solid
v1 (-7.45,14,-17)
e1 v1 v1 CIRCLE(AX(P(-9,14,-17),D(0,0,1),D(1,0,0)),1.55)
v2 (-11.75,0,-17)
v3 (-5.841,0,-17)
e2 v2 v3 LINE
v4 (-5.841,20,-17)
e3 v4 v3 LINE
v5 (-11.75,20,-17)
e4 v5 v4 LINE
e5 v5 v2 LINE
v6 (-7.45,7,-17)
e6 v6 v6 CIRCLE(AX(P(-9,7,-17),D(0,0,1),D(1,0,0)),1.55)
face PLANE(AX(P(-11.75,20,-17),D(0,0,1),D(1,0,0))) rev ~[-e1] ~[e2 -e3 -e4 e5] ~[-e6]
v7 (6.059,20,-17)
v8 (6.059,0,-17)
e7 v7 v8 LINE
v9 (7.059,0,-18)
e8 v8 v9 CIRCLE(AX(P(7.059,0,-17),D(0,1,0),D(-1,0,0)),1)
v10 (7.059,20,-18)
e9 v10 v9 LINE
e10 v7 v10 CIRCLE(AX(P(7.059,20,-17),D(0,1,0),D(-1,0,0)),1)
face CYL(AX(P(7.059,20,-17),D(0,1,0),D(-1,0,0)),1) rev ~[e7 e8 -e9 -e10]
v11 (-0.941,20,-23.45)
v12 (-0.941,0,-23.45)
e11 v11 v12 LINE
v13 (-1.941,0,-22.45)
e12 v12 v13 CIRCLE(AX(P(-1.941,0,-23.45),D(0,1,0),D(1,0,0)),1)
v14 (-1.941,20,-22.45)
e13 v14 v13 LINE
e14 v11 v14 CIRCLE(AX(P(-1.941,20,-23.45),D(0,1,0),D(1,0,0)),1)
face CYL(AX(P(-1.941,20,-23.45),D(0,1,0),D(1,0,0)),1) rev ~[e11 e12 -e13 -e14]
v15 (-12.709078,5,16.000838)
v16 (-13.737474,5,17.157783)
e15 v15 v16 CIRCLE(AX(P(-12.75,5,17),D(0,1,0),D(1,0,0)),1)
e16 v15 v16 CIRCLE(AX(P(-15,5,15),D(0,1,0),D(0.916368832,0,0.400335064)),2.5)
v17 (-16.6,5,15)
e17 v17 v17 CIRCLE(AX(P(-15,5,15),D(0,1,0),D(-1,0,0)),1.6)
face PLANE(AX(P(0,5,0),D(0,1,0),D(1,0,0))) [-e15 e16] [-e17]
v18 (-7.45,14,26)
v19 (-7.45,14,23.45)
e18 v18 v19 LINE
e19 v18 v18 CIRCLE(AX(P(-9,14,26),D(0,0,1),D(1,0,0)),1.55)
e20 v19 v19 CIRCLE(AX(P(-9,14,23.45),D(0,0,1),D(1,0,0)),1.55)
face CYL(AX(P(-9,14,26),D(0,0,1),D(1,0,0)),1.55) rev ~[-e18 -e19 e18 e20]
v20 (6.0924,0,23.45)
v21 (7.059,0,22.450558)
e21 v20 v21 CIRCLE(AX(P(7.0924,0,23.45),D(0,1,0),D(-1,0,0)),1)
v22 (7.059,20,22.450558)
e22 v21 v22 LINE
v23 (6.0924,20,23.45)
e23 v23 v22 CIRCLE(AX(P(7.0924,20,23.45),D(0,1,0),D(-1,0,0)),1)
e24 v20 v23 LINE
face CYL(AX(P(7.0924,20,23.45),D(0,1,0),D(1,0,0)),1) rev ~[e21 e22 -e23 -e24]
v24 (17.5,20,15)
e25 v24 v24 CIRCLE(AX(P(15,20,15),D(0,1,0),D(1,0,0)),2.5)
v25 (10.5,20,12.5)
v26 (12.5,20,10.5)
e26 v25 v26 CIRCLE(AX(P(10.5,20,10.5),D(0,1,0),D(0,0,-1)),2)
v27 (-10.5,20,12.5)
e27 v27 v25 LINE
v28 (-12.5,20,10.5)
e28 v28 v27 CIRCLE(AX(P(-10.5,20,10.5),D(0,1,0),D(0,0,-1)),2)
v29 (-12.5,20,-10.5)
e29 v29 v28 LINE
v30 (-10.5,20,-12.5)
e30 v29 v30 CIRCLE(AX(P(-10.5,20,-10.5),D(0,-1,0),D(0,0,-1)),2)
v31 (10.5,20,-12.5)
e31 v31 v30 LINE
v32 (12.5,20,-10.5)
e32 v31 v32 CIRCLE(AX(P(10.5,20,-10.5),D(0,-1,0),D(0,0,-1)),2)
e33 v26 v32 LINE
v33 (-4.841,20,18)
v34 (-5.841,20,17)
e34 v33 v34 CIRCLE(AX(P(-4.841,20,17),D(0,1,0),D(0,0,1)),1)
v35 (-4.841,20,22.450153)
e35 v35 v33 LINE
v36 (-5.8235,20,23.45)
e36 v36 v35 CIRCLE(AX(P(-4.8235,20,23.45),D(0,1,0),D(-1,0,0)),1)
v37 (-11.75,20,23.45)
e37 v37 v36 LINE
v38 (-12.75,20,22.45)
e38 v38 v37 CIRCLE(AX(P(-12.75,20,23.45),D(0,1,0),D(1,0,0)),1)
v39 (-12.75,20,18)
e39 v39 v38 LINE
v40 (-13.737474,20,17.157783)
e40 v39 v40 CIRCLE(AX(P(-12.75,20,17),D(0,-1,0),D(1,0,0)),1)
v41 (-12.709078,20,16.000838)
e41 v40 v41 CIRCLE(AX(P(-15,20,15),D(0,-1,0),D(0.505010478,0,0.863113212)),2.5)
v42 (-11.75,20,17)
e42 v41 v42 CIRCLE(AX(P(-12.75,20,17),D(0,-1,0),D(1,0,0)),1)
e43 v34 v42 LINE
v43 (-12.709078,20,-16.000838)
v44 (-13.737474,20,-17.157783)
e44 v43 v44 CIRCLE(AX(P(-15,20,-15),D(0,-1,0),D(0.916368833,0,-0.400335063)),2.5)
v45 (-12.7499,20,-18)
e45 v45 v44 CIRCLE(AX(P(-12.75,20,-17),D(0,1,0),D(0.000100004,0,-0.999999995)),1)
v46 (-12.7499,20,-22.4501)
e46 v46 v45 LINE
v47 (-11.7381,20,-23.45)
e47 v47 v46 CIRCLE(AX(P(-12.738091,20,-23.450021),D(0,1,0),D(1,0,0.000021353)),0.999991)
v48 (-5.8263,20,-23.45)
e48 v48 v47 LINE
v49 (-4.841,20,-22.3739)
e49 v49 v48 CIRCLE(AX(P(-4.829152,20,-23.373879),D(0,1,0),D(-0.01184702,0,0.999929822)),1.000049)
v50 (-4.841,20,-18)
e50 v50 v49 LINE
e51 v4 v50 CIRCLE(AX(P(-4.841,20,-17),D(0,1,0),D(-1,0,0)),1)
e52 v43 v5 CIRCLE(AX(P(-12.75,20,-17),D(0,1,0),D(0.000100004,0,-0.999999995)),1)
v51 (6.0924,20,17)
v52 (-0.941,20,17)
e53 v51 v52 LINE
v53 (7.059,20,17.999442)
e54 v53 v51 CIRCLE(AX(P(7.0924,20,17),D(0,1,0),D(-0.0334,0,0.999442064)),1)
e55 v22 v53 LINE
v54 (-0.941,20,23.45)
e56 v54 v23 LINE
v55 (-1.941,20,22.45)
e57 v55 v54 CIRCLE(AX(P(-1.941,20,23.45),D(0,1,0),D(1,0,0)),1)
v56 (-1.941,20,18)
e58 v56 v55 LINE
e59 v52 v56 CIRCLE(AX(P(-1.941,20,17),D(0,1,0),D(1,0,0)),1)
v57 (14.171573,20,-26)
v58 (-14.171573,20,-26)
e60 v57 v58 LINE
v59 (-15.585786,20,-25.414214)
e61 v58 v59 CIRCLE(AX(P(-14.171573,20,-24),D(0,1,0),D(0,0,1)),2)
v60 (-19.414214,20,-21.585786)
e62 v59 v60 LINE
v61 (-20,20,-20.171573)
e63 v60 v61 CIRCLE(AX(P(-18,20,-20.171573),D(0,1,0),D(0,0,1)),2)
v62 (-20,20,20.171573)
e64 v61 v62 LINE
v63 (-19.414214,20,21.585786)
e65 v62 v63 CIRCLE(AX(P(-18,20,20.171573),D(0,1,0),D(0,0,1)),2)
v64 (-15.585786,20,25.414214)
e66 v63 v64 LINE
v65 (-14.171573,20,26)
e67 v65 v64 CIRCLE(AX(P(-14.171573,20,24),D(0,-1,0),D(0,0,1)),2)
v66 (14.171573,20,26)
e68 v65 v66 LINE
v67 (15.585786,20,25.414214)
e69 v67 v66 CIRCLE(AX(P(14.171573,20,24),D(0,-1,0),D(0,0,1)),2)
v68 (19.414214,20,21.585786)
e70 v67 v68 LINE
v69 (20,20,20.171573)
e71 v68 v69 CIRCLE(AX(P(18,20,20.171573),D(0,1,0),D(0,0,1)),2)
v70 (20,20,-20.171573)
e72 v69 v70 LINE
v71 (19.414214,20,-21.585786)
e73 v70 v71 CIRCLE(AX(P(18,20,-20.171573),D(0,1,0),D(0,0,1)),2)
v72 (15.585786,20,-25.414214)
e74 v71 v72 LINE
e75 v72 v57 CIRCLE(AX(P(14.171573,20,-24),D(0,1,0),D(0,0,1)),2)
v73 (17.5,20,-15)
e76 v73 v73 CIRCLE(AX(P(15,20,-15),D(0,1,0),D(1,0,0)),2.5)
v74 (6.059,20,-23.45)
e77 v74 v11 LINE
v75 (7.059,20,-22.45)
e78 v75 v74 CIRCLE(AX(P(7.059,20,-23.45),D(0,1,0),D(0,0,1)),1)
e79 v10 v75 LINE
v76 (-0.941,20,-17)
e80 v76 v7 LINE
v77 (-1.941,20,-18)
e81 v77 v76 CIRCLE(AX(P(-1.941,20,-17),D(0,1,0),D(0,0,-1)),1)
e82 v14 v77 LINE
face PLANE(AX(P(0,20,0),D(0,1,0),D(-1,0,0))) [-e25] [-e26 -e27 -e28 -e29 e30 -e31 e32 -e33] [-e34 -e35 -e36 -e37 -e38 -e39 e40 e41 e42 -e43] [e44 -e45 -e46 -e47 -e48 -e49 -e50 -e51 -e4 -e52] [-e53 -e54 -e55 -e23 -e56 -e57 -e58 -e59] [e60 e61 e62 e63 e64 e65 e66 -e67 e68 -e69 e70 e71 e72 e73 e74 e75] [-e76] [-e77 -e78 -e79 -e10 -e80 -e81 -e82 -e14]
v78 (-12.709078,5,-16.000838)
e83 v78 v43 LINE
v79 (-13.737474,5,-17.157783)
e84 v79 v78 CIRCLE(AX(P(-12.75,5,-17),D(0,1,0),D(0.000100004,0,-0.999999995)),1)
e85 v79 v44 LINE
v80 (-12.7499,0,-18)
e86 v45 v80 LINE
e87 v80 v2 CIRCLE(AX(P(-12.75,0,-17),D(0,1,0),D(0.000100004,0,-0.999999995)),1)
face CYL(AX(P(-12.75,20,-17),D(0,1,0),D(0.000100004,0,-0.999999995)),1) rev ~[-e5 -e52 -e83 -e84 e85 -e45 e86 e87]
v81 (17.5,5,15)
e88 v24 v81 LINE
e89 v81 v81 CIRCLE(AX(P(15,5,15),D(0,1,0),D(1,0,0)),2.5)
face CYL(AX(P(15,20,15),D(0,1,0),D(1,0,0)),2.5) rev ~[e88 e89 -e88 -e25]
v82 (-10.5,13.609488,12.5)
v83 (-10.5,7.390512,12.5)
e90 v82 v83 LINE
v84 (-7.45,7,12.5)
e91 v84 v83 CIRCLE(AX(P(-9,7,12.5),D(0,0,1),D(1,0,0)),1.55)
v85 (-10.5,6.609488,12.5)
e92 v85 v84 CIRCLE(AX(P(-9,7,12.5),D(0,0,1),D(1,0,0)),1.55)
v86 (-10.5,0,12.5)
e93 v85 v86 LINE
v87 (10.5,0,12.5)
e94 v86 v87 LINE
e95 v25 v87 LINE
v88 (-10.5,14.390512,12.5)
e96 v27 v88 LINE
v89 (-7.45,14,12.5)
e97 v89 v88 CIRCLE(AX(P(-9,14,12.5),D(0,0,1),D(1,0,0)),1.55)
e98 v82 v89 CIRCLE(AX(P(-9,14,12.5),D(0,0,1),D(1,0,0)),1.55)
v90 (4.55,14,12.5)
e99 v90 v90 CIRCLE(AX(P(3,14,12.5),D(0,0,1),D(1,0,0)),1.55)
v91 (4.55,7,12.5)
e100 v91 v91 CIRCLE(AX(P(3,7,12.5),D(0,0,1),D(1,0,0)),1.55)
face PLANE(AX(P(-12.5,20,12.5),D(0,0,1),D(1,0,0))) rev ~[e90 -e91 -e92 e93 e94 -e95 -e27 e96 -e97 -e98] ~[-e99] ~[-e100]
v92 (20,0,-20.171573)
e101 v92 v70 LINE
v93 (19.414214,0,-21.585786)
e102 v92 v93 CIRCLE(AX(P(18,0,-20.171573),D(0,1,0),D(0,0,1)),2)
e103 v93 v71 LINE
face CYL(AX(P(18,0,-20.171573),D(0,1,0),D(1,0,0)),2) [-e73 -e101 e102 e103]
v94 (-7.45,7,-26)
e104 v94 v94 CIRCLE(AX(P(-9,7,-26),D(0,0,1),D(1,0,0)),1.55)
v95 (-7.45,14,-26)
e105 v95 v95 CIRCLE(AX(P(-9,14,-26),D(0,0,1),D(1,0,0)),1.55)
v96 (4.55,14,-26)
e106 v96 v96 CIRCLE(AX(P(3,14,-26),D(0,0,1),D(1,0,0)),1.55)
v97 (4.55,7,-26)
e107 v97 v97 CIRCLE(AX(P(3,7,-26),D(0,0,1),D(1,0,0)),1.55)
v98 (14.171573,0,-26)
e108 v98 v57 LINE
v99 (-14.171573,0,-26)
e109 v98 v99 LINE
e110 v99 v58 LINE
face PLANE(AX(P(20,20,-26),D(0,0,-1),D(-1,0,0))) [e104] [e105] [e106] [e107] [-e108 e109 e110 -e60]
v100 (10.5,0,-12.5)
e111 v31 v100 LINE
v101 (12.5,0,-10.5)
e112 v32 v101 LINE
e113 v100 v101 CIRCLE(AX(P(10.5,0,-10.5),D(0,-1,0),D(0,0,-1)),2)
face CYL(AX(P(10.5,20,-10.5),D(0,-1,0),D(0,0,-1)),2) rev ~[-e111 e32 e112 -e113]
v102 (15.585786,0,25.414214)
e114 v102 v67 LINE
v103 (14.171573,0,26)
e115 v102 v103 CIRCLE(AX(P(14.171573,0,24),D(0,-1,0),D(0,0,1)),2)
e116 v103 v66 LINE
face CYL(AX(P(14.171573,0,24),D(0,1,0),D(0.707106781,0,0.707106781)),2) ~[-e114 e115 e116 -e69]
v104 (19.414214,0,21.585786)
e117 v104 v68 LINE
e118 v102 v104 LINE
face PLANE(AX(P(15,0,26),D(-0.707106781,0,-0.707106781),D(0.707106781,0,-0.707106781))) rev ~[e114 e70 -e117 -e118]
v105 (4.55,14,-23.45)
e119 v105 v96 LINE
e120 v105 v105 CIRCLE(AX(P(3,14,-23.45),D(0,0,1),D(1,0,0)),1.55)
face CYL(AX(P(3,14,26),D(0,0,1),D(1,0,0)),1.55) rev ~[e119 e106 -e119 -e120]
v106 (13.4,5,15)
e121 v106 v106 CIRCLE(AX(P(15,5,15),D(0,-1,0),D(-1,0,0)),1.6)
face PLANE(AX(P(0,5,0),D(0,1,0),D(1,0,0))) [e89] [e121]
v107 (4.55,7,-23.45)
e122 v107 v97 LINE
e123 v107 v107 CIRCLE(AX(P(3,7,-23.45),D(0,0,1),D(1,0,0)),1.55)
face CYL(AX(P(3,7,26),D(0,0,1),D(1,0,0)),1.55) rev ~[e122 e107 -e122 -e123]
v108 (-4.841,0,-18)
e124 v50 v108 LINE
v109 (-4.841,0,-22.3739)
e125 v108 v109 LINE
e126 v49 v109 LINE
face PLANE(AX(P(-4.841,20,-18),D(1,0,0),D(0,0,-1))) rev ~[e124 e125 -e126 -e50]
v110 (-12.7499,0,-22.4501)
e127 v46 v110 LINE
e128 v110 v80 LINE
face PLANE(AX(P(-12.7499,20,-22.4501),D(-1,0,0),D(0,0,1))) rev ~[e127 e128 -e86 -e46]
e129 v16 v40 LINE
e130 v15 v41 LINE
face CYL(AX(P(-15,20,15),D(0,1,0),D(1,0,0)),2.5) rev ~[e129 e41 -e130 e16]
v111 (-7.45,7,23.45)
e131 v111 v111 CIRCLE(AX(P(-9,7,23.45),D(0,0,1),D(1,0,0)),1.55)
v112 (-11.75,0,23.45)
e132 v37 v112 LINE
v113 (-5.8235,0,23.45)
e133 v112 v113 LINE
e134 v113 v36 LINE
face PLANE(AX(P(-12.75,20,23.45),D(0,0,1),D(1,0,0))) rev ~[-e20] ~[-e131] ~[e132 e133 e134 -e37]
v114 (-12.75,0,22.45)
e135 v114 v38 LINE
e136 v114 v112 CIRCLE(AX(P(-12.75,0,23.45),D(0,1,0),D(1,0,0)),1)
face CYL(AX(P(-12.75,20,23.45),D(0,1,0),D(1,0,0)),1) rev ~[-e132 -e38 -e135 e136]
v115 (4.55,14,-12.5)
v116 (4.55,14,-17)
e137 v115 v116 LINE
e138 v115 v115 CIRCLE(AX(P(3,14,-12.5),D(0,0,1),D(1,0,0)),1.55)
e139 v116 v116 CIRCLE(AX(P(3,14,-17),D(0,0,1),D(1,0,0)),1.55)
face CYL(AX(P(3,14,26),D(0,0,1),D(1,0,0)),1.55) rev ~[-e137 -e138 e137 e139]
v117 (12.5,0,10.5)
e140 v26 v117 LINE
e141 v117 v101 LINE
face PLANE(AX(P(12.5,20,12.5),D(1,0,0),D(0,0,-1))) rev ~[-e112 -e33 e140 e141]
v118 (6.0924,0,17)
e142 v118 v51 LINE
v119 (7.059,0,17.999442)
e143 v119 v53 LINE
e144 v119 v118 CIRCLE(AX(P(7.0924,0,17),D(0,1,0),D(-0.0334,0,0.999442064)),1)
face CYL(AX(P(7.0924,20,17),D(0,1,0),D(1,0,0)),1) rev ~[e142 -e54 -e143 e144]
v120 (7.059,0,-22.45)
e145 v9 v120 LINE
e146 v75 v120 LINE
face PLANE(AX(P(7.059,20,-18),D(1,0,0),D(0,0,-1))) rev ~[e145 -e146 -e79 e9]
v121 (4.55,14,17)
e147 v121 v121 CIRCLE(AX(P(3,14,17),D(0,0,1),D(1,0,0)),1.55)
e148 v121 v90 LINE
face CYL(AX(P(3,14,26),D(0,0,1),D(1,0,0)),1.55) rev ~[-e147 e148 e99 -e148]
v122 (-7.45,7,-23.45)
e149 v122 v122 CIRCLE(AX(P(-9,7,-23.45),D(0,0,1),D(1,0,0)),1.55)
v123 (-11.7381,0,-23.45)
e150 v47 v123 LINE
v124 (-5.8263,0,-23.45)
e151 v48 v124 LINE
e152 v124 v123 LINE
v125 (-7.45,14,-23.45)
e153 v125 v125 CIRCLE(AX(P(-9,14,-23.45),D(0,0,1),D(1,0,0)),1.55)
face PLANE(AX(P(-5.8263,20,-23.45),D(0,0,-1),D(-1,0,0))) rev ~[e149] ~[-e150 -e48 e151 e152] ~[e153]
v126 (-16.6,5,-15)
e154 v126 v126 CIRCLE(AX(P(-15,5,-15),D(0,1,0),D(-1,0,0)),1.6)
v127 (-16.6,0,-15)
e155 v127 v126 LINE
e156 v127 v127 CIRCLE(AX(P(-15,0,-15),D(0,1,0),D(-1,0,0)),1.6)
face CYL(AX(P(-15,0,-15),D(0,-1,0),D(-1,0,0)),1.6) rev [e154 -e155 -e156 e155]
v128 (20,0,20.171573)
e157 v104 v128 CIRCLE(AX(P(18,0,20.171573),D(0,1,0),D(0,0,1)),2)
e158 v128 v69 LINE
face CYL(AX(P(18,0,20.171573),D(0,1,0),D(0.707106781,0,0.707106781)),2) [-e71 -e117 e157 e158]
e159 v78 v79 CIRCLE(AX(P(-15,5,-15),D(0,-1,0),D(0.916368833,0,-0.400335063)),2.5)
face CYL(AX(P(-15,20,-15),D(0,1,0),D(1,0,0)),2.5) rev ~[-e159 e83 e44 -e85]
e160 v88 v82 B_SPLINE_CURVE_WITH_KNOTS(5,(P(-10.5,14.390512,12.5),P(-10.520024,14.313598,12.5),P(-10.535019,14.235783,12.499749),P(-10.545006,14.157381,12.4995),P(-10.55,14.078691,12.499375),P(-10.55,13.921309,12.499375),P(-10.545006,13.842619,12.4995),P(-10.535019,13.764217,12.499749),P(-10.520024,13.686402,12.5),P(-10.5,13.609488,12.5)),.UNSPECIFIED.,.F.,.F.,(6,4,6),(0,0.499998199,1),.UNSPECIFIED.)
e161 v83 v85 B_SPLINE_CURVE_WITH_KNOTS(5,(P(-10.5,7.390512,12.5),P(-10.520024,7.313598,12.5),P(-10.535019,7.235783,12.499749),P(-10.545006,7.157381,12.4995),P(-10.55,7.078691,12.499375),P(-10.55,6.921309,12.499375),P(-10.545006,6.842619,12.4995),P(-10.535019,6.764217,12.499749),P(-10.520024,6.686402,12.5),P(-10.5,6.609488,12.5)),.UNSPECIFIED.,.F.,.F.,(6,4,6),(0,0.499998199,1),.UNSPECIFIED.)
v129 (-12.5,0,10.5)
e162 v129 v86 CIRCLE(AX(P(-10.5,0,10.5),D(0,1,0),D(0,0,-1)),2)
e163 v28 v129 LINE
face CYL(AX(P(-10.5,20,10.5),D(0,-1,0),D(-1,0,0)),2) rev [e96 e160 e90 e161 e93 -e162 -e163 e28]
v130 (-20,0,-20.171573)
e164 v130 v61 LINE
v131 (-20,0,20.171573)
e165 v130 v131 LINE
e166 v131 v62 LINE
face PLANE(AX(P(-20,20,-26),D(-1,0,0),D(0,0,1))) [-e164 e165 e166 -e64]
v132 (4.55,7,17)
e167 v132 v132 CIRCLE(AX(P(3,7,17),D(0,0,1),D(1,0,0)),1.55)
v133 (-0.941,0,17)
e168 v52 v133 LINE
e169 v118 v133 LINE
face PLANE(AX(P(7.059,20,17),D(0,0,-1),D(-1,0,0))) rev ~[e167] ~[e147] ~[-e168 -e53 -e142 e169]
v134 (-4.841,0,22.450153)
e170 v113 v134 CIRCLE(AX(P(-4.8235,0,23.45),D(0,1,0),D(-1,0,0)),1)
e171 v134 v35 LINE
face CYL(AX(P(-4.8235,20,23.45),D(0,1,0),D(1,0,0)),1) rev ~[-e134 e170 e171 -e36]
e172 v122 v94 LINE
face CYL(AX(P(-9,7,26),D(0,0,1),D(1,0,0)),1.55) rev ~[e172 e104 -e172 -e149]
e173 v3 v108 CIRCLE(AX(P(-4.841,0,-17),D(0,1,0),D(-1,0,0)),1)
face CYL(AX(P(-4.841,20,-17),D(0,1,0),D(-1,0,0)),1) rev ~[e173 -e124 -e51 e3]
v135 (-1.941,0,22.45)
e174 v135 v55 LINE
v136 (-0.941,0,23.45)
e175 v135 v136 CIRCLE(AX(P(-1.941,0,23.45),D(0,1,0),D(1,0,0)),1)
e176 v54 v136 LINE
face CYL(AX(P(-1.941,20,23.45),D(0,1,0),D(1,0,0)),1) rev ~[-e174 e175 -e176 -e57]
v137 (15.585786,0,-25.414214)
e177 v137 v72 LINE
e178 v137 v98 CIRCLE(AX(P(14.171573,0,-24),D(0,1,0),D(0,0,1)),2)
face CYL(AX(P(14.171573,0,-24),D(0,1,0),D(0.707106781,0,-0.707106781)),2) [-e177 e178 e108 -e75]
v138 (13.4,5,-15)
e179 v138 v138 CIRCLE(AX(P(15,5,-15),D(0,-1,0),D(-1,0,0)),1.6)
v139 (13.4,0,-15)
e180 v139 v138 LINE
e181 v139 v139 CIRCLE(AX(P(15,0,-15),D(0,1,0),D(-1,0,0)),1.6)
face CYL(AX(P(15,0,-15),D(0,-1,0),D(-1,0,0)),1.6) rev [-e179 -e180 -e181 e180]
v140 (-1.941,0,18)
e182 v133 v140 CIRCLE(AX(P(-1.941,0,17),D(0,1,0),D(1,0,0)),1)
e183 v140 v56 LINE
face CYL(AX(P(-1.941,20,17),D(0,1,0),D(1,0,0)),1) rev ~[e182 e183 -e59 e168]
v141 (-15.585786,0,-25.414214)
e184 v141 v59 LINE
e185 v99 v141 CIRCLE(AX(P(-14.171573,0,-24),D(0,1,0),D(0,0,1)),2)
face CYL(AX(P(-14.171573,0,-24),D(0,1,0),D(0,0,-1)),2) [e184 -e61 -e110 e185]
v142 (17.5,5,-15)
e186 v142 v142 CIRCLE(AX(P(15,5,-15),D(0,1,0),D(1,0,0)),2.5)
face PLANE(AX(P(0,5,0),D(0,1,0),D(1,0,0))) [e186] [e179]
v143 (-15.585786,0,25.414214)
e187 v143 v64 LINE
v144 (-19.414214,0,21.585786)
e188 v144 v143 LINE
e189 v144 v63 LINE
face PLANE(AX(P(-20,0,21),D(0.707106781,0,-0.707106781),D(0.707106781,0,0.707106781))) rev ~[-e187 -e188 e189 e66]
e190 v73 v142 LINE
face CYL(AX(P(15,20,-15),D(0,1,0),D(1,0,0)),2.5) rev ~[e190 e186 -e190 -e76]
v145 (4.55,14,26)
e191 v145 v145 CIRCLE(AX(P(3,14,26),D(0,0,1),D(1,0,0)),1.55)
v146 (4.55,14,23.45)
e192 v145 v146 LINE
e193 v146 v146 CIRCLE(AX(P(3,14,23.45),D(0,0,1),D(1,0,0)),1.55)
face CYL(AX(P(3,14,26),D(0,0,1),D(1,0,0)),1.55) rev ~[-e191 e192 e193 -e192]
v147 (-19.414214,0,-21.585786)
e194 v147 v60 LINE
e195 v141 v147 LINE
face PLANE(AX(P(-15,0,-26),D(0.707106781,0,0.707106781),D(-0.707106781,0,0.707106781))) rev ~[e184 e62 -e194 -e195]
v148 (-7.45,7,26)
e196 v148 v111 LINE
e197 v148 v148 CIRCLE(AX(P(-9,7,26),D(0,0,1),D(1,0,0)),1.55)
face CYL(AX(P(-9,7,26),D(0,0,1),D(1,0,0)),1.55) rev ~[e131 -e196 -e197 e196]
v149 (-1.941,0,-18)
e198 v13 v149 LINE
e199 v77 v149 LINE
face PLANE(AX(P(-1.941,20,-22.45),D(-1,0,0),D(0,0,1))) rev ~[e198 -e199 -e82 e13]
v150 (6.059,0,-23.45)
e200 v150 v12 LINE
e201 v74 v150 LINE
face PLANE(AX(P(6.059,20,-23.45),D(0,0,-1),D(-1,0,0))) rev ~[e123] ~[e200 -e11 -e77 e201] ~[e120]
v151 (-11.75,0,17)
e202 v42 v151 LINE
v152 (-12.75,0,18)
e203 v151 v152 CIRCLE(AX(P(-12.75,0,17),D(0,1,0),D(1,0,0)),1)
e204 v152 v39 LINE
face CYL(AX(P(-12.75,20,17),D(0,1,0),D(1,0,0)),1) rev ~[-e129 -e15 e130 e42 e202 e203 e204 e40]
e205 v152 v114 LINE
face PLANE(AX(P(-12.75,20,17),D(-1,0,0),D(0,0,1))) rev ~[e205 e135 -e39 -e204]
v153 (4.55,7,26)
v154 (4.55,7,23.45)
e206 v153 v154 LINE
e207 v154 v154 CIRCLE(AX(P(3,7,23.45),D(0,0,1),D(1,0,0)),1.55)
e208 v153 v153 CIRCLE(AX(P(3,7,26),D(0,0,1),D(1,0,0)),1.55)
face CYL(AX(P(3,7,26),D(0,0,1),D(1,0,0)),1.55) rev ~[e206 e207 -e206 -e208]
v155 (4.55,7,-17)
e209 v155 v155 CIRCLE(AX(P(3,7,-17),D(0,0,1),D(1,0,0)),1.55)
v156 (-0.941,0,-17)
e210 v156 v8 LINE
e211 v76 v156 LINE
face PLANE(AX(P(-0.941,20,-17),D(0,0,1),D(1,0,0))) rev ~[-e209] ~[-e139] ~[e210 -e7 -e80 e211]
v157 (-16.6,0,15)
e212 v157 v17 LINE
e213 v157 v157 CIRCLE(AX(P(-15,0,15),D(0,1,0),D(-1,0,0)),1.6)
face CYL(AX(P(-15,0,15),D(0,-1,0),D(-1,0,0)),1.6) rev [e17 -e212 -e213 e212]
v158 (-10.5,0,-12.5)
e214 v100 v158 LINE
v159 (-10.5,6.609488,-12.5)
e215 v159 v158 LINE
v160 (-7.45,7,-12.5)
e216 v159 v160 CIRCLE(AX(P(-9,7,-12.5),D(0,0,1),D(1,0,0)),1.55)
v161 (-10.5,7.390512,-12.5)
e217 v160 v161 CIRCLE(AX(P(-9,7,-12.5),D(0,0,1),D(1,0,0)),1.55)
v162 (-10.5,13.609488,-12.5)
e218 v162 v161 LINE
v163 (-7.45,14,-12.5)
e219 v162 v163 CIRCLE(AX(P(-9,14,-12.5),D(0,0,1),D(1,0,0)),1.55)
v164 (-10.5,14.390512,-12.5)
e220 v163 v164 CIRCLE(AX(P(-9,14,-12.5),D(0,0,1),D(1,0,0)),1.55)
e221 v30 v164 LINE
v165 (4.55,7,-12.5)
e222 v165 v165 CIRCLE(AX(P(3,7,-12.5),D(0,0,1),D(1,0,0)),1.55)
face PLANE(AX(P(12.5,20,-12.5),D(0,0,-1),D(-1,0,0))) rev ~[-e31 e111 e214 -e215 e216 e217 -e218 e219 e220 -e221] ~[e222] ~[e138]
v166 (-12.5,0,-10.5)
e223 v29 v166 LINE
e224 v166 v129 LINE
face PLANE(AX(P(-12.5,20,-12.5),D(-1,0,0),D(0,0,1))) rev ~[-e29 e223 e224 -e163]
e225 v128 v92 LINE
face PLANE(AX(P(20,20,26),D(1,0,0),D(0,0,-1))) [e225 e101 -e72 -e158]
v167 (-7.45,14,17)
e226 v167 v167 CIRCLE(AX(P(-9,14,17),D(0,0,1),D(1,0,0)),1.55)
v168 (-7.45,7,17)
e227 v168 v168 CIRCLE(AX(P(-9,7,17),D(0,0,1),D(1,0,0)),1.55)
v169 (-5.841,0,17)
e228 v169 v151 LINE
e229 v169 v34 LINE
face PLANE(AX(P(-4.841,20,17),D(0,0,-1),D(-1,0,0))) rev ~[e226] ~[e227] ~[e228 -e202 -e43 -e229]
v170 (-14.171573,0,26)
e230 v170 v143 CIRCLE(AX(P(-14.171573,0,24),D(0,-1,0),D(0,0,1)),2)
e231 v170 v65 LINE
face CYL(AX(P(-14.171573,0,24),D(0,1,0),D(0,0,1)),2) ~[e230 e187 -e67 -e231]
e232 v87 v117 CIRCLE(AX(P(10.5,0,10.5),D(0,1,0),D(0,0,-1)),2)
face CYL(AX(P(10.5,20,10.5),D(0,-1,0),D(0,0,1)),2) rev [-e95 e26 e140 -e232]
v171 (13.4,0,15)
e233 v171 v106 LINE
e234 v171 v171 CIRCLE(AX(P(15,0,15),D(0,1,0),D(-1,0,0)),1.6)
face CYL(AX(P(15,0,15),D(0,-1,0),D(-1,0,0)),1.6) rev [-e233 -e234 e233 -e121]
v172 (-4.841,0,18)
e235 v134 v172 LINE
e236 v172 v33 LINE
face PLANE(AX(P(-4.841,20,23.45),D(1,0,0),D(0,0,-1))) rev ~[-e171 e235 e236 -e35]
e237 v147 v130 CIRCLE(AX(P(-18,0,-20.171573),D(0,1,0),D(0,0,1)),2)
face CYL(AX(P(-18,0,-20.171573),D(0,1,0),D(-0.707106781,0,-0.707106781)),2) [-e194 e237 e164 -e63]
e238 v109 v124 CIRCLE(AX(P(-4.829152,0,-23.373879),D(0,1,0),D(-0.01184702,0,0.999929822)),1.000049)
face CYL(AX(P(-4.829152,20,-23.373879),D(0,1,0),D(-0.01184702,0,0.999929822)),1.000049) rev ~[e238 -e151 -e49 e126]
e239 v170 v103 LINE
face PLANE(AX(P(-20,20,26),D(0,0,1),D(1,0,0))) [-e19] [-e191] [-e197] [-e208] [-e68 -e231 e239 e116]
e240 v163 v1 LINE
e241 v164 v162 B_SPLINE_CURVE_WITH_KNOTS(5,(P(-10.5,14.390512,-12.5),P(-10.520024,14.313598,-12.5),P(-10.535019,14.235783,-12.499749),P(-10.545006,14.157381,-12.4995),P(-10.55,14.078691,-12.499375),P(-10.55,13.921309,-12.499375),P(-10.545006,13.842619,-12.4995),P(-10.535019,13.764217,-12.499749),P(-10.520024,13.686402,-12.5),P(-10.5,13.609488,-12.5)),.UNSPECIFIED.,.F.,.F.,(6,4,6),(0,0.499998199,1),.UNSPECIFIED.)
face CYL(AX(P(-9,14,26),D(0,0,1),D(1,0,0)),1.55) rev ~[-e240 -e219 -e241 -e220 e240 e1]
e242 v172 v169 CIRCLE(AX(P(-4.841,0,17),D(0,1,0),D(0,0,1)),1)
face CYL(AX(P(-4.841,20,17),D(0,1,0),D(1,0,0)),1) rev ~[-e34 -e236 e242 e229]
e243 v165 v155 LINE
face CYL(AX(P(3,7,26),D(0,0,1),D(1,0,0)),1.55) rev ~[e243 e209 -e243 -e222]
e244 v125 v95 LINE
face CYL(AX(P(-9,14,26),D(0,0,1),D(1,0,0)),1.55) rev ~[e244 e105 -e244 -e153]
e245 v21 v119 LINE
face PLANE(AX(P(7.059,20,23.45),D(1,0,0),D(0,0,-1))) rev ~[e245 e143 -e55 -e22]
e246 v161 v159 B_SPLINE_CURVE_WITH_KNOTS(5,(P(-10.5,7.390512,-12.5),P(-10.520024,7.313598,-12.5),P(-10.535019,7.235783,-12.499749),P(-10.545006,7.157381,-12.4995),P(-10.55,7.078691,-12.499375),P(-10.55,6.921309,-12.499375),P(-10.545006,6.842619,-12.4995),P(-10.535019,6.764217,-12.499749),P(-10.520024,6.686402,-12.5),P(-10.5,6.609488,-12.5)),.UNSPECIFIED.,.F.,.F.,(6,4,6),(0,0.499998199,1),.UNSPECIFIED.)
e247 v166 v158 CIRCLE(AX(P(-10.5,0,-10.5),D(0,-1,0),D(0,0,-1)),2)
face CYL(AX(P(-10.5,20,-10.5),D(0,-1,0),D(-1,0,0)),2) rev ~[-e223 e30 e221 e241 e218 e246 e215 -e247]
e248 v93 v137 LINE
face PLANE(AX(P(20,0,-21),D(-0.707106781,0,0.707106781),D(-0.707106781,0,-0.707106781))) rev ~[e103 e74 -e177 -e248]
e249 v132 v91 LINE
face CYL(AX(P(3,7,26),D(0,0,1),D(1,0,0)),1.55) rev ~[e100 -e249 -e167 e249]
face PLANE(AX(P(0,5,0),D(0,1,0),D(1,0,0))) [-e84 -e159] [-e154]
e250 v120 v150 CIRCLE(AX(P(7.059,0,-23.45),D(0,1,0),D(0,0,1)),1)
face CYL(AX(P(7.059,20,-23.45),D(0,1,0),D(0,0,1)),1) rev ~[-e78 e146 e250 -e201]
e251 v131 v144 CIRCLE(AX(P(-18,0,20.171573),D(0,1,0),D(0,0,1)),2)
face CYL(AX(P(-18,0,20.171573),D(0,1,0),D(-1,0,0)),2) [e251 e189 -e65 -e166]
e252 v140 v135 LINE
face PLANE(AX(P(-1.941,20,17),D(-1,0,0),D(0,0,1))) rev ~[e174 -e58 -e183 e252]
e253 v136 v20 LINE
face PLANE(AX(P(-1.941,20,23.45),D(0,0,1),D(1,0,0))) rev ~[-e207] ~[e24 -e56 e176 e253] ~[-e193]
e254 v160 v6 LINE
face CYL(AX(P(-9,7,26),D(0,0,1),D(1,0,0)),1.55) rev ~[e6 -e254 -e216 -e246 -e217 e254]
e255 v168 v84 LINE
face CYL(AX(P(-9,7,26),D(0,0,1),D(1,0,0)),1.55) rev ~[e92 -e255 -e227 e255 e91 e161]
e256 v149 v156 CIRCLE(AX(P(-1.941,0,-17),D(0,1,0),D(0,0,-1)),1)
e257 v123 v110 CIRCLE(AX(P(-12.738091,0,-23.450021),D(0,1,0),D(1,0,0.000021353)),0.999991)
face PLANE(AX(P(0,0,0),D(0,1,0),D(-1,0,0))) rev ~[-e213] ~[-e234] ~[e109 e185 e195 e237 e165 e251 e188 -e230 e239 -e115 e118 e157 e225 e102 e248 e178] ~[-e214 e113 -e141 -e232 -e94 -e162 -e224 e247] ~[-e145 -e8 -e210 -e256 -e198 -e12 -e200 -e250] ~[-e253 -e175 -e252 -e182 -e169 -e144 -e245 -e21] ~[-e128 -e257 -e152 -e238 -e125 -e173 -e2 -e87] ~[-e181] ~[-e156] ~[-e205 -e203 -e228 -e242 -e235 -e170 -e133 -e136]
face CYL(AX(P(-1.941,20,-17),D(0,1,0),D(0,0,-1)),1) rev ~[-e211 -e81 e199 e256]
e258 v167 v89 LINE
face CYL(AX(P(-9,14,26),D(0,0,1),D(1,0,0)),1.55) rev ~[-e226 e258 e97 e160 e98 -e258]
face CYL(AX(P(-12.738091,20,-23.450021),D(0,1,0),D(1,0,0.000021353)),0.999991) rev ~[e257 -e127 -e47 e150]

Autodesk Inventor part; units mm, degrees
ref_plane "YZ Plane" through (0, 0, 0) normal (1, 0, 0) x (0, 1, 0)
ref_plane "XZ Plane" through (0, 0, 0) normal (0, 1, 0) x (-1, 0, 0)
ref_plane "XY Plane" through (0, 0, 0) normal (0, 0, 1) x (1, 0, 0)
sketch "Sketch1" plane through (0, 0, 0) normal (0, 1, 0) x (-1, 0, 0)
  circle A0 centre (0, 0) radius 35
  circle A1 centre (15, 15) radius 1.6
  circle A2 centre (15, -15) radius 1.6
  circle A3 centre (-15, -15) radius 1.6
  circle A4 centre (-15, 15) radius 1.6
  line L0 (15, 15) -> (-15, 15) construction
  line L1 (-15, 15) -> (-15, -15) construction
  line L2 (-15, -15) -> (15, -15) construction
  line L3 (15, -15) -> (15, 15) construction
  circle A5 centre (0, 0) radius 10
  dimension "d1" = 30
  dimension "d2" = 30
  dimension "d4" = 3.2
  dimension "d5" = 3.2
  dimension "d6" = 3.2
  dimension "d7" = 3.2
  dimension "d8" = 15
  dimension "d9" = 15
  dimension "d10" = 20
  dimension "d11" = 70
extrude "Extrusion1" add sketch "Sketch1" along normal blind 20
sketch "Sketch2" plane through (0, 20, 0) normal (0, 1, 0) x (1, 0, 0)
  circle A0 centre (-15, -15) radius 1.6 projected
  circle A1 centre (-15, -15) radius 2.5
  circle A2 centre (-15, 15) radius 1.6 projected
  circle A3 centre (-15, 15) radius 2.5
  circle A4 centre (15, 15) radius 2.5
  circle A5 centre (15, -15) radius 2.5
  point P0 (0, 0)
  dimension "d14" = 15
  dimension "d15" = 15
  dimension "d16" = 15
  dimension "d17" = 15
  dimension "d18" = 5
  dimension "d19" = 5
  dimension "d20" = 5
  dimension "d21" = 5
extrude "Extrusion2" cut sketch "Sketch2" against normal blind 15
sketch "Sketch3" plane through (0, 20, 0) normal (0, 1, 0) x (1, 0, 0)
  line L0 (-12.75, -23.45) -> (-4.841, -23.45)
  line L1 (-4.841, -23.45) -> (-4.841, -17)
  line L2 (-4.841, -17) -> (-12.75, -17)
  line L3 (-12.75, -17) -> (-12.75, -23.45)
  line L4 (-1.941, -23.45) -> (7.059, -23.45)
  line L5 (7.059, -23.45) -> (7.059, -17)
  line L6 (7.059, -17) -> (-1.941, -17)
  line L7 (-1.941, -17) -> (-1.941, -23.45)
  line L8 (-11.75, 17) -> (-5.841, 17)
  line L9 (-4.841, 18) -> (-4.841, 22.3739)
  line L10 (-5.8263, 23.45) -> (-11.7381, 23.45)
  line L11 (-12.7499, 22.4501) -> (-12.7499, 18)
  line L12 (-0.941, 17) -> (6.059, 17)
  line L13 (7.059, 18) -> (7.059, 22.45)
  line L14 (6.059, 23.45) -> (-0.941, 23.45)
  line L15 (-1.941, 22.45) -> (-1.941, 18)
  arc A0 (-12.7499, 18) -> (-11.75, 17) centre (-12.75, 17) ccw
  arc A1 (-11.7381, 23.45) -> (-12.7499, 22.4501) centre (-12.7381, 23.45) ccw
  arc A2 (-4.841, 22.3739) -> (-5.8263, 23.45) centre (-4.8292, 23.3739) ccw
  arc A3 (-5.841, 17) -> (-4.841, 18) centre (-4.841, 17) ccw
  arc A4 (7.059, 22.45) -> (6.059, 23.45) centre (7.059, 23.45) ccw
  arc A5 (6.059, 17) -> (7.059, 18) centre (7.059, 17) ccw
  arc A6 (-1.941, 18) -> (-0.941, 17) centre (-1.941, 17) ccw
  arc A7 (-0.941, 23.45) -> (-1.941, 22.45) centre (-1.941, 23.45) ccw
  point P0 (0, 0)
  dimension "d24" = 17
  dimension "d25" = 17
  dimension "d26" = 6.45
  dimension "d27" = 6.45
  dimension "d28" = 2.9
  dimension "d29" = 7.909
  dimension "d30" = 9
  dimension "d31" = 1.941
  dimension "d32" = 34
  dimension "d33" = 6.45
  dimension "d42" = 2
  dimension "d43" = 2
  dimension "d44" = 2
  dimension "d45" = 2
  dimension "d46" = 2
  dimension "d47" = 2
  dimension "d50" = 2
  dimension "d51" = 2
extrude "Extrusion3" cut sketch "Sketch3" against normal blind 25
sketch "Sketch5" plane through (0, 20, 0) normal (0, 1, 0) x (1, 0, 0)
  line L0 (-20, -26) -> (20, -26)
  line L1 (20, -26) -> (20, 26)
  line L2 (20, 26) -> (-20, 26)
  line L3 (-20, 26) -> (-20, -26)
  line L4 (-12.5, -12.5) -> (12.5, -12.5)
  line L5 (12.5, -12.5) -> (12.5, 12.5)
  line L6 (12.5, 12.5) -> (-12.5, 12.5)
  line L7 (-12.5, 12.5) -> (-12.5, -12.5)
  point P0 (0, 0)
  dimension "d64" = 52
  dimension "d65" = 40
  dimension "d66" = 20
  dimension "d67" = 26
  dimension "d70" = 25
  dimension "d71" = 25
  dimension "d72" = 12.5
  dimension "d73" = 12.5
extrude "Extrusion5" cut sketch "Sketch5" against normal blind 30 keep common part
fillet "Fillet1" radius 2 1 edges at (-20, 10, 26)
fillet "Fillet2" radius 2 1 edges at (20, 10, 26)
fillet "Fillet3" radius 2 1 edges at (20, 10, -26)
fillet "Fillet4" radius 2 1 edges at (-20, 10, -26)
fillet "Fillet5" radius 2 1 edges at (12.5, 10, 12.5)
fillet "Fillet6" radius 2 1 edges at (-12.5, 10, -12.5)
fillet "Fillet7" radius 2 2 edges at (12.5, 10, -12.5) (-12.5, 10, 12.5)
sketch "Sketch6" plane through (-18, 0, 26) normal (0, 0, 1) x (1, 0, 0)
  circle A0 centre (9, 7) radius 1.55
  circle A1 centre (9, 14) radius 1.55
  circle A2 centre (21, 7) radius 1.55
  circle A3 centre (21, 14) radius 1.55
  line L0 (0, 0) -> (36, 0) projected
  line L1 (18, 0) -> (18, 20) construction
  dimension "d81" = 3.1
  dimension "d82" = 3.1
  dimension "d83" = 3.1
  dimension "d84" = 3.1
  dimension "d85" = 7
  dimension "d86" = 7
  dimension "d87" = 7
  dimension "d88" = 7
  dimension "d89" = 0
  dimension "d90" = 3
  dimension "d91" = 3
  dimension "d92" = 9
  dimension "d93" = 9
extrude "Extrusion6" cut sketch "Sketch6" against normal blind 100
sketch "Sketch7" plane through (0, 20, 0) normal (0, 1, 0) x (1, 0, 0)
  circle A0 centre (-15, -15) radius 2.5 projected
  circle A1 centre (-12.75, -23.45) radius 1
  circle A2 centre (-4.8235, -23.45) radius 1
  circle A3 centre (-4.841, -17) radius 1
  circle A4 centre (-1.941, -17) radius 1
  circle A5 centre (-1.941, -23.45) radius 1
  circle A6 centre (7.0924, -17) radius 1
  circle A7 centre (7.0924, -23.45) radius 1
  circle A8 centre (-12.75, -17) radius 1
  point P0 (0, 0)
  dimension "d96" = 2
  dimension "d97" = 2
  dimension "d98" = 2
  dimension "d99" = 2
  dimension "d100" = 2
  dimension "d101" = 2
  dimension "d102" = 2
  dimension "d103" = 2
extrude "Extrusion7" cut sketch "Sketch7" against normal blind 100 contours A8 A0 | A0 A8 | A1 | A2 | A3 | A4 | A5 | A6 | A7 picked at (-13.2603, -16.5464) picked at (-12.7663, -16.994)
sketch "Sketch8" plane through (0, 0, 0) normal (0, -1, 0) x (1, 0, 0)
  line L0 (15, 26) -> (20, 21)
  line L1 (20, 24) -> (20, -24) projected
  line L2 (15, 26) -> (20, 26)
  line L3 (20, 21) -> (20, 26)
  line L4 (-18, 26) -> (18, 26) projected
  line L5 (-15, 26) -> (-20, 26)
  line L6 (-20, 26) -> (-20, 21)
  line L7 (-20, 21) -> (-15, 26)
  line L8 (-20, -24) -> (-20, 24) projected
  line L9 (-20, -21) -> (-20, -26)
  line L10 (-20, -26) -> (-15, -26)
  line L11 (-15, -26) -> (-20, -21)
  line L12 (18, -26) -> (-18, -26) projected
  line L13 (20, -21) -> (20, -26)
  line L14 (20, -26) -> (15, -26)
  line L15 (20, -21) -> (15, -26)
  point P0 (0, 0)
  dimension "d106" = 5
  dimension "d107" = 5
  dimension "d108" = 5
  dimension "d109" = 5
  dimension "d110" = 5
  dimension "d111" = 5
  dimension "d112" = 5
  dimension "d113" = 5
extrude "Extrusion8" cut sketch "Sketch8" against normal blind 20 contours L2 L3 L1 L0 | L7 L6 L5 L4 | L1 L13 L14 L12 L15 | L11 L10 L9 L8
fillet "Fillet8" radius 2 1 edges at (15, 10, 26)
fillet "Fillet9" radius 2 1 edges at (20, 10, 21)
fillet "Fillet10" radius 2 1 edges at (20, 10, -21)
fillet "Fillet11" radius 2 3 edges at (15, 10, -26) (-15, 10, 26) (-20, 10, 21)
fillet "Fillet12" radius 2 2 edges at (-20, 10, -21) (-15, 10, -26)
equation "\"d5\" = d4"
equation "\"d6\" = d5"
equation "\"d7\" = d4"
equation "\"d19\" = d18"
equation "\"d20\" = d18"
equation "\"d21\" = d19"
equation "\"d25\" = d24"
equation "\"d27\" = d26"
equation "\"d32\" = 2 * d24"
equation "\"d33\" = d26"
equation "\"d66\" = 0.5 * d65"
equation "\"d67\" = 0.5 * d64"
equation "\"d72\" = 0.5 * d71"
equation "\"d87\" = d85"
equation "\"d88\" = d86"
properties part number "supportHolder"
